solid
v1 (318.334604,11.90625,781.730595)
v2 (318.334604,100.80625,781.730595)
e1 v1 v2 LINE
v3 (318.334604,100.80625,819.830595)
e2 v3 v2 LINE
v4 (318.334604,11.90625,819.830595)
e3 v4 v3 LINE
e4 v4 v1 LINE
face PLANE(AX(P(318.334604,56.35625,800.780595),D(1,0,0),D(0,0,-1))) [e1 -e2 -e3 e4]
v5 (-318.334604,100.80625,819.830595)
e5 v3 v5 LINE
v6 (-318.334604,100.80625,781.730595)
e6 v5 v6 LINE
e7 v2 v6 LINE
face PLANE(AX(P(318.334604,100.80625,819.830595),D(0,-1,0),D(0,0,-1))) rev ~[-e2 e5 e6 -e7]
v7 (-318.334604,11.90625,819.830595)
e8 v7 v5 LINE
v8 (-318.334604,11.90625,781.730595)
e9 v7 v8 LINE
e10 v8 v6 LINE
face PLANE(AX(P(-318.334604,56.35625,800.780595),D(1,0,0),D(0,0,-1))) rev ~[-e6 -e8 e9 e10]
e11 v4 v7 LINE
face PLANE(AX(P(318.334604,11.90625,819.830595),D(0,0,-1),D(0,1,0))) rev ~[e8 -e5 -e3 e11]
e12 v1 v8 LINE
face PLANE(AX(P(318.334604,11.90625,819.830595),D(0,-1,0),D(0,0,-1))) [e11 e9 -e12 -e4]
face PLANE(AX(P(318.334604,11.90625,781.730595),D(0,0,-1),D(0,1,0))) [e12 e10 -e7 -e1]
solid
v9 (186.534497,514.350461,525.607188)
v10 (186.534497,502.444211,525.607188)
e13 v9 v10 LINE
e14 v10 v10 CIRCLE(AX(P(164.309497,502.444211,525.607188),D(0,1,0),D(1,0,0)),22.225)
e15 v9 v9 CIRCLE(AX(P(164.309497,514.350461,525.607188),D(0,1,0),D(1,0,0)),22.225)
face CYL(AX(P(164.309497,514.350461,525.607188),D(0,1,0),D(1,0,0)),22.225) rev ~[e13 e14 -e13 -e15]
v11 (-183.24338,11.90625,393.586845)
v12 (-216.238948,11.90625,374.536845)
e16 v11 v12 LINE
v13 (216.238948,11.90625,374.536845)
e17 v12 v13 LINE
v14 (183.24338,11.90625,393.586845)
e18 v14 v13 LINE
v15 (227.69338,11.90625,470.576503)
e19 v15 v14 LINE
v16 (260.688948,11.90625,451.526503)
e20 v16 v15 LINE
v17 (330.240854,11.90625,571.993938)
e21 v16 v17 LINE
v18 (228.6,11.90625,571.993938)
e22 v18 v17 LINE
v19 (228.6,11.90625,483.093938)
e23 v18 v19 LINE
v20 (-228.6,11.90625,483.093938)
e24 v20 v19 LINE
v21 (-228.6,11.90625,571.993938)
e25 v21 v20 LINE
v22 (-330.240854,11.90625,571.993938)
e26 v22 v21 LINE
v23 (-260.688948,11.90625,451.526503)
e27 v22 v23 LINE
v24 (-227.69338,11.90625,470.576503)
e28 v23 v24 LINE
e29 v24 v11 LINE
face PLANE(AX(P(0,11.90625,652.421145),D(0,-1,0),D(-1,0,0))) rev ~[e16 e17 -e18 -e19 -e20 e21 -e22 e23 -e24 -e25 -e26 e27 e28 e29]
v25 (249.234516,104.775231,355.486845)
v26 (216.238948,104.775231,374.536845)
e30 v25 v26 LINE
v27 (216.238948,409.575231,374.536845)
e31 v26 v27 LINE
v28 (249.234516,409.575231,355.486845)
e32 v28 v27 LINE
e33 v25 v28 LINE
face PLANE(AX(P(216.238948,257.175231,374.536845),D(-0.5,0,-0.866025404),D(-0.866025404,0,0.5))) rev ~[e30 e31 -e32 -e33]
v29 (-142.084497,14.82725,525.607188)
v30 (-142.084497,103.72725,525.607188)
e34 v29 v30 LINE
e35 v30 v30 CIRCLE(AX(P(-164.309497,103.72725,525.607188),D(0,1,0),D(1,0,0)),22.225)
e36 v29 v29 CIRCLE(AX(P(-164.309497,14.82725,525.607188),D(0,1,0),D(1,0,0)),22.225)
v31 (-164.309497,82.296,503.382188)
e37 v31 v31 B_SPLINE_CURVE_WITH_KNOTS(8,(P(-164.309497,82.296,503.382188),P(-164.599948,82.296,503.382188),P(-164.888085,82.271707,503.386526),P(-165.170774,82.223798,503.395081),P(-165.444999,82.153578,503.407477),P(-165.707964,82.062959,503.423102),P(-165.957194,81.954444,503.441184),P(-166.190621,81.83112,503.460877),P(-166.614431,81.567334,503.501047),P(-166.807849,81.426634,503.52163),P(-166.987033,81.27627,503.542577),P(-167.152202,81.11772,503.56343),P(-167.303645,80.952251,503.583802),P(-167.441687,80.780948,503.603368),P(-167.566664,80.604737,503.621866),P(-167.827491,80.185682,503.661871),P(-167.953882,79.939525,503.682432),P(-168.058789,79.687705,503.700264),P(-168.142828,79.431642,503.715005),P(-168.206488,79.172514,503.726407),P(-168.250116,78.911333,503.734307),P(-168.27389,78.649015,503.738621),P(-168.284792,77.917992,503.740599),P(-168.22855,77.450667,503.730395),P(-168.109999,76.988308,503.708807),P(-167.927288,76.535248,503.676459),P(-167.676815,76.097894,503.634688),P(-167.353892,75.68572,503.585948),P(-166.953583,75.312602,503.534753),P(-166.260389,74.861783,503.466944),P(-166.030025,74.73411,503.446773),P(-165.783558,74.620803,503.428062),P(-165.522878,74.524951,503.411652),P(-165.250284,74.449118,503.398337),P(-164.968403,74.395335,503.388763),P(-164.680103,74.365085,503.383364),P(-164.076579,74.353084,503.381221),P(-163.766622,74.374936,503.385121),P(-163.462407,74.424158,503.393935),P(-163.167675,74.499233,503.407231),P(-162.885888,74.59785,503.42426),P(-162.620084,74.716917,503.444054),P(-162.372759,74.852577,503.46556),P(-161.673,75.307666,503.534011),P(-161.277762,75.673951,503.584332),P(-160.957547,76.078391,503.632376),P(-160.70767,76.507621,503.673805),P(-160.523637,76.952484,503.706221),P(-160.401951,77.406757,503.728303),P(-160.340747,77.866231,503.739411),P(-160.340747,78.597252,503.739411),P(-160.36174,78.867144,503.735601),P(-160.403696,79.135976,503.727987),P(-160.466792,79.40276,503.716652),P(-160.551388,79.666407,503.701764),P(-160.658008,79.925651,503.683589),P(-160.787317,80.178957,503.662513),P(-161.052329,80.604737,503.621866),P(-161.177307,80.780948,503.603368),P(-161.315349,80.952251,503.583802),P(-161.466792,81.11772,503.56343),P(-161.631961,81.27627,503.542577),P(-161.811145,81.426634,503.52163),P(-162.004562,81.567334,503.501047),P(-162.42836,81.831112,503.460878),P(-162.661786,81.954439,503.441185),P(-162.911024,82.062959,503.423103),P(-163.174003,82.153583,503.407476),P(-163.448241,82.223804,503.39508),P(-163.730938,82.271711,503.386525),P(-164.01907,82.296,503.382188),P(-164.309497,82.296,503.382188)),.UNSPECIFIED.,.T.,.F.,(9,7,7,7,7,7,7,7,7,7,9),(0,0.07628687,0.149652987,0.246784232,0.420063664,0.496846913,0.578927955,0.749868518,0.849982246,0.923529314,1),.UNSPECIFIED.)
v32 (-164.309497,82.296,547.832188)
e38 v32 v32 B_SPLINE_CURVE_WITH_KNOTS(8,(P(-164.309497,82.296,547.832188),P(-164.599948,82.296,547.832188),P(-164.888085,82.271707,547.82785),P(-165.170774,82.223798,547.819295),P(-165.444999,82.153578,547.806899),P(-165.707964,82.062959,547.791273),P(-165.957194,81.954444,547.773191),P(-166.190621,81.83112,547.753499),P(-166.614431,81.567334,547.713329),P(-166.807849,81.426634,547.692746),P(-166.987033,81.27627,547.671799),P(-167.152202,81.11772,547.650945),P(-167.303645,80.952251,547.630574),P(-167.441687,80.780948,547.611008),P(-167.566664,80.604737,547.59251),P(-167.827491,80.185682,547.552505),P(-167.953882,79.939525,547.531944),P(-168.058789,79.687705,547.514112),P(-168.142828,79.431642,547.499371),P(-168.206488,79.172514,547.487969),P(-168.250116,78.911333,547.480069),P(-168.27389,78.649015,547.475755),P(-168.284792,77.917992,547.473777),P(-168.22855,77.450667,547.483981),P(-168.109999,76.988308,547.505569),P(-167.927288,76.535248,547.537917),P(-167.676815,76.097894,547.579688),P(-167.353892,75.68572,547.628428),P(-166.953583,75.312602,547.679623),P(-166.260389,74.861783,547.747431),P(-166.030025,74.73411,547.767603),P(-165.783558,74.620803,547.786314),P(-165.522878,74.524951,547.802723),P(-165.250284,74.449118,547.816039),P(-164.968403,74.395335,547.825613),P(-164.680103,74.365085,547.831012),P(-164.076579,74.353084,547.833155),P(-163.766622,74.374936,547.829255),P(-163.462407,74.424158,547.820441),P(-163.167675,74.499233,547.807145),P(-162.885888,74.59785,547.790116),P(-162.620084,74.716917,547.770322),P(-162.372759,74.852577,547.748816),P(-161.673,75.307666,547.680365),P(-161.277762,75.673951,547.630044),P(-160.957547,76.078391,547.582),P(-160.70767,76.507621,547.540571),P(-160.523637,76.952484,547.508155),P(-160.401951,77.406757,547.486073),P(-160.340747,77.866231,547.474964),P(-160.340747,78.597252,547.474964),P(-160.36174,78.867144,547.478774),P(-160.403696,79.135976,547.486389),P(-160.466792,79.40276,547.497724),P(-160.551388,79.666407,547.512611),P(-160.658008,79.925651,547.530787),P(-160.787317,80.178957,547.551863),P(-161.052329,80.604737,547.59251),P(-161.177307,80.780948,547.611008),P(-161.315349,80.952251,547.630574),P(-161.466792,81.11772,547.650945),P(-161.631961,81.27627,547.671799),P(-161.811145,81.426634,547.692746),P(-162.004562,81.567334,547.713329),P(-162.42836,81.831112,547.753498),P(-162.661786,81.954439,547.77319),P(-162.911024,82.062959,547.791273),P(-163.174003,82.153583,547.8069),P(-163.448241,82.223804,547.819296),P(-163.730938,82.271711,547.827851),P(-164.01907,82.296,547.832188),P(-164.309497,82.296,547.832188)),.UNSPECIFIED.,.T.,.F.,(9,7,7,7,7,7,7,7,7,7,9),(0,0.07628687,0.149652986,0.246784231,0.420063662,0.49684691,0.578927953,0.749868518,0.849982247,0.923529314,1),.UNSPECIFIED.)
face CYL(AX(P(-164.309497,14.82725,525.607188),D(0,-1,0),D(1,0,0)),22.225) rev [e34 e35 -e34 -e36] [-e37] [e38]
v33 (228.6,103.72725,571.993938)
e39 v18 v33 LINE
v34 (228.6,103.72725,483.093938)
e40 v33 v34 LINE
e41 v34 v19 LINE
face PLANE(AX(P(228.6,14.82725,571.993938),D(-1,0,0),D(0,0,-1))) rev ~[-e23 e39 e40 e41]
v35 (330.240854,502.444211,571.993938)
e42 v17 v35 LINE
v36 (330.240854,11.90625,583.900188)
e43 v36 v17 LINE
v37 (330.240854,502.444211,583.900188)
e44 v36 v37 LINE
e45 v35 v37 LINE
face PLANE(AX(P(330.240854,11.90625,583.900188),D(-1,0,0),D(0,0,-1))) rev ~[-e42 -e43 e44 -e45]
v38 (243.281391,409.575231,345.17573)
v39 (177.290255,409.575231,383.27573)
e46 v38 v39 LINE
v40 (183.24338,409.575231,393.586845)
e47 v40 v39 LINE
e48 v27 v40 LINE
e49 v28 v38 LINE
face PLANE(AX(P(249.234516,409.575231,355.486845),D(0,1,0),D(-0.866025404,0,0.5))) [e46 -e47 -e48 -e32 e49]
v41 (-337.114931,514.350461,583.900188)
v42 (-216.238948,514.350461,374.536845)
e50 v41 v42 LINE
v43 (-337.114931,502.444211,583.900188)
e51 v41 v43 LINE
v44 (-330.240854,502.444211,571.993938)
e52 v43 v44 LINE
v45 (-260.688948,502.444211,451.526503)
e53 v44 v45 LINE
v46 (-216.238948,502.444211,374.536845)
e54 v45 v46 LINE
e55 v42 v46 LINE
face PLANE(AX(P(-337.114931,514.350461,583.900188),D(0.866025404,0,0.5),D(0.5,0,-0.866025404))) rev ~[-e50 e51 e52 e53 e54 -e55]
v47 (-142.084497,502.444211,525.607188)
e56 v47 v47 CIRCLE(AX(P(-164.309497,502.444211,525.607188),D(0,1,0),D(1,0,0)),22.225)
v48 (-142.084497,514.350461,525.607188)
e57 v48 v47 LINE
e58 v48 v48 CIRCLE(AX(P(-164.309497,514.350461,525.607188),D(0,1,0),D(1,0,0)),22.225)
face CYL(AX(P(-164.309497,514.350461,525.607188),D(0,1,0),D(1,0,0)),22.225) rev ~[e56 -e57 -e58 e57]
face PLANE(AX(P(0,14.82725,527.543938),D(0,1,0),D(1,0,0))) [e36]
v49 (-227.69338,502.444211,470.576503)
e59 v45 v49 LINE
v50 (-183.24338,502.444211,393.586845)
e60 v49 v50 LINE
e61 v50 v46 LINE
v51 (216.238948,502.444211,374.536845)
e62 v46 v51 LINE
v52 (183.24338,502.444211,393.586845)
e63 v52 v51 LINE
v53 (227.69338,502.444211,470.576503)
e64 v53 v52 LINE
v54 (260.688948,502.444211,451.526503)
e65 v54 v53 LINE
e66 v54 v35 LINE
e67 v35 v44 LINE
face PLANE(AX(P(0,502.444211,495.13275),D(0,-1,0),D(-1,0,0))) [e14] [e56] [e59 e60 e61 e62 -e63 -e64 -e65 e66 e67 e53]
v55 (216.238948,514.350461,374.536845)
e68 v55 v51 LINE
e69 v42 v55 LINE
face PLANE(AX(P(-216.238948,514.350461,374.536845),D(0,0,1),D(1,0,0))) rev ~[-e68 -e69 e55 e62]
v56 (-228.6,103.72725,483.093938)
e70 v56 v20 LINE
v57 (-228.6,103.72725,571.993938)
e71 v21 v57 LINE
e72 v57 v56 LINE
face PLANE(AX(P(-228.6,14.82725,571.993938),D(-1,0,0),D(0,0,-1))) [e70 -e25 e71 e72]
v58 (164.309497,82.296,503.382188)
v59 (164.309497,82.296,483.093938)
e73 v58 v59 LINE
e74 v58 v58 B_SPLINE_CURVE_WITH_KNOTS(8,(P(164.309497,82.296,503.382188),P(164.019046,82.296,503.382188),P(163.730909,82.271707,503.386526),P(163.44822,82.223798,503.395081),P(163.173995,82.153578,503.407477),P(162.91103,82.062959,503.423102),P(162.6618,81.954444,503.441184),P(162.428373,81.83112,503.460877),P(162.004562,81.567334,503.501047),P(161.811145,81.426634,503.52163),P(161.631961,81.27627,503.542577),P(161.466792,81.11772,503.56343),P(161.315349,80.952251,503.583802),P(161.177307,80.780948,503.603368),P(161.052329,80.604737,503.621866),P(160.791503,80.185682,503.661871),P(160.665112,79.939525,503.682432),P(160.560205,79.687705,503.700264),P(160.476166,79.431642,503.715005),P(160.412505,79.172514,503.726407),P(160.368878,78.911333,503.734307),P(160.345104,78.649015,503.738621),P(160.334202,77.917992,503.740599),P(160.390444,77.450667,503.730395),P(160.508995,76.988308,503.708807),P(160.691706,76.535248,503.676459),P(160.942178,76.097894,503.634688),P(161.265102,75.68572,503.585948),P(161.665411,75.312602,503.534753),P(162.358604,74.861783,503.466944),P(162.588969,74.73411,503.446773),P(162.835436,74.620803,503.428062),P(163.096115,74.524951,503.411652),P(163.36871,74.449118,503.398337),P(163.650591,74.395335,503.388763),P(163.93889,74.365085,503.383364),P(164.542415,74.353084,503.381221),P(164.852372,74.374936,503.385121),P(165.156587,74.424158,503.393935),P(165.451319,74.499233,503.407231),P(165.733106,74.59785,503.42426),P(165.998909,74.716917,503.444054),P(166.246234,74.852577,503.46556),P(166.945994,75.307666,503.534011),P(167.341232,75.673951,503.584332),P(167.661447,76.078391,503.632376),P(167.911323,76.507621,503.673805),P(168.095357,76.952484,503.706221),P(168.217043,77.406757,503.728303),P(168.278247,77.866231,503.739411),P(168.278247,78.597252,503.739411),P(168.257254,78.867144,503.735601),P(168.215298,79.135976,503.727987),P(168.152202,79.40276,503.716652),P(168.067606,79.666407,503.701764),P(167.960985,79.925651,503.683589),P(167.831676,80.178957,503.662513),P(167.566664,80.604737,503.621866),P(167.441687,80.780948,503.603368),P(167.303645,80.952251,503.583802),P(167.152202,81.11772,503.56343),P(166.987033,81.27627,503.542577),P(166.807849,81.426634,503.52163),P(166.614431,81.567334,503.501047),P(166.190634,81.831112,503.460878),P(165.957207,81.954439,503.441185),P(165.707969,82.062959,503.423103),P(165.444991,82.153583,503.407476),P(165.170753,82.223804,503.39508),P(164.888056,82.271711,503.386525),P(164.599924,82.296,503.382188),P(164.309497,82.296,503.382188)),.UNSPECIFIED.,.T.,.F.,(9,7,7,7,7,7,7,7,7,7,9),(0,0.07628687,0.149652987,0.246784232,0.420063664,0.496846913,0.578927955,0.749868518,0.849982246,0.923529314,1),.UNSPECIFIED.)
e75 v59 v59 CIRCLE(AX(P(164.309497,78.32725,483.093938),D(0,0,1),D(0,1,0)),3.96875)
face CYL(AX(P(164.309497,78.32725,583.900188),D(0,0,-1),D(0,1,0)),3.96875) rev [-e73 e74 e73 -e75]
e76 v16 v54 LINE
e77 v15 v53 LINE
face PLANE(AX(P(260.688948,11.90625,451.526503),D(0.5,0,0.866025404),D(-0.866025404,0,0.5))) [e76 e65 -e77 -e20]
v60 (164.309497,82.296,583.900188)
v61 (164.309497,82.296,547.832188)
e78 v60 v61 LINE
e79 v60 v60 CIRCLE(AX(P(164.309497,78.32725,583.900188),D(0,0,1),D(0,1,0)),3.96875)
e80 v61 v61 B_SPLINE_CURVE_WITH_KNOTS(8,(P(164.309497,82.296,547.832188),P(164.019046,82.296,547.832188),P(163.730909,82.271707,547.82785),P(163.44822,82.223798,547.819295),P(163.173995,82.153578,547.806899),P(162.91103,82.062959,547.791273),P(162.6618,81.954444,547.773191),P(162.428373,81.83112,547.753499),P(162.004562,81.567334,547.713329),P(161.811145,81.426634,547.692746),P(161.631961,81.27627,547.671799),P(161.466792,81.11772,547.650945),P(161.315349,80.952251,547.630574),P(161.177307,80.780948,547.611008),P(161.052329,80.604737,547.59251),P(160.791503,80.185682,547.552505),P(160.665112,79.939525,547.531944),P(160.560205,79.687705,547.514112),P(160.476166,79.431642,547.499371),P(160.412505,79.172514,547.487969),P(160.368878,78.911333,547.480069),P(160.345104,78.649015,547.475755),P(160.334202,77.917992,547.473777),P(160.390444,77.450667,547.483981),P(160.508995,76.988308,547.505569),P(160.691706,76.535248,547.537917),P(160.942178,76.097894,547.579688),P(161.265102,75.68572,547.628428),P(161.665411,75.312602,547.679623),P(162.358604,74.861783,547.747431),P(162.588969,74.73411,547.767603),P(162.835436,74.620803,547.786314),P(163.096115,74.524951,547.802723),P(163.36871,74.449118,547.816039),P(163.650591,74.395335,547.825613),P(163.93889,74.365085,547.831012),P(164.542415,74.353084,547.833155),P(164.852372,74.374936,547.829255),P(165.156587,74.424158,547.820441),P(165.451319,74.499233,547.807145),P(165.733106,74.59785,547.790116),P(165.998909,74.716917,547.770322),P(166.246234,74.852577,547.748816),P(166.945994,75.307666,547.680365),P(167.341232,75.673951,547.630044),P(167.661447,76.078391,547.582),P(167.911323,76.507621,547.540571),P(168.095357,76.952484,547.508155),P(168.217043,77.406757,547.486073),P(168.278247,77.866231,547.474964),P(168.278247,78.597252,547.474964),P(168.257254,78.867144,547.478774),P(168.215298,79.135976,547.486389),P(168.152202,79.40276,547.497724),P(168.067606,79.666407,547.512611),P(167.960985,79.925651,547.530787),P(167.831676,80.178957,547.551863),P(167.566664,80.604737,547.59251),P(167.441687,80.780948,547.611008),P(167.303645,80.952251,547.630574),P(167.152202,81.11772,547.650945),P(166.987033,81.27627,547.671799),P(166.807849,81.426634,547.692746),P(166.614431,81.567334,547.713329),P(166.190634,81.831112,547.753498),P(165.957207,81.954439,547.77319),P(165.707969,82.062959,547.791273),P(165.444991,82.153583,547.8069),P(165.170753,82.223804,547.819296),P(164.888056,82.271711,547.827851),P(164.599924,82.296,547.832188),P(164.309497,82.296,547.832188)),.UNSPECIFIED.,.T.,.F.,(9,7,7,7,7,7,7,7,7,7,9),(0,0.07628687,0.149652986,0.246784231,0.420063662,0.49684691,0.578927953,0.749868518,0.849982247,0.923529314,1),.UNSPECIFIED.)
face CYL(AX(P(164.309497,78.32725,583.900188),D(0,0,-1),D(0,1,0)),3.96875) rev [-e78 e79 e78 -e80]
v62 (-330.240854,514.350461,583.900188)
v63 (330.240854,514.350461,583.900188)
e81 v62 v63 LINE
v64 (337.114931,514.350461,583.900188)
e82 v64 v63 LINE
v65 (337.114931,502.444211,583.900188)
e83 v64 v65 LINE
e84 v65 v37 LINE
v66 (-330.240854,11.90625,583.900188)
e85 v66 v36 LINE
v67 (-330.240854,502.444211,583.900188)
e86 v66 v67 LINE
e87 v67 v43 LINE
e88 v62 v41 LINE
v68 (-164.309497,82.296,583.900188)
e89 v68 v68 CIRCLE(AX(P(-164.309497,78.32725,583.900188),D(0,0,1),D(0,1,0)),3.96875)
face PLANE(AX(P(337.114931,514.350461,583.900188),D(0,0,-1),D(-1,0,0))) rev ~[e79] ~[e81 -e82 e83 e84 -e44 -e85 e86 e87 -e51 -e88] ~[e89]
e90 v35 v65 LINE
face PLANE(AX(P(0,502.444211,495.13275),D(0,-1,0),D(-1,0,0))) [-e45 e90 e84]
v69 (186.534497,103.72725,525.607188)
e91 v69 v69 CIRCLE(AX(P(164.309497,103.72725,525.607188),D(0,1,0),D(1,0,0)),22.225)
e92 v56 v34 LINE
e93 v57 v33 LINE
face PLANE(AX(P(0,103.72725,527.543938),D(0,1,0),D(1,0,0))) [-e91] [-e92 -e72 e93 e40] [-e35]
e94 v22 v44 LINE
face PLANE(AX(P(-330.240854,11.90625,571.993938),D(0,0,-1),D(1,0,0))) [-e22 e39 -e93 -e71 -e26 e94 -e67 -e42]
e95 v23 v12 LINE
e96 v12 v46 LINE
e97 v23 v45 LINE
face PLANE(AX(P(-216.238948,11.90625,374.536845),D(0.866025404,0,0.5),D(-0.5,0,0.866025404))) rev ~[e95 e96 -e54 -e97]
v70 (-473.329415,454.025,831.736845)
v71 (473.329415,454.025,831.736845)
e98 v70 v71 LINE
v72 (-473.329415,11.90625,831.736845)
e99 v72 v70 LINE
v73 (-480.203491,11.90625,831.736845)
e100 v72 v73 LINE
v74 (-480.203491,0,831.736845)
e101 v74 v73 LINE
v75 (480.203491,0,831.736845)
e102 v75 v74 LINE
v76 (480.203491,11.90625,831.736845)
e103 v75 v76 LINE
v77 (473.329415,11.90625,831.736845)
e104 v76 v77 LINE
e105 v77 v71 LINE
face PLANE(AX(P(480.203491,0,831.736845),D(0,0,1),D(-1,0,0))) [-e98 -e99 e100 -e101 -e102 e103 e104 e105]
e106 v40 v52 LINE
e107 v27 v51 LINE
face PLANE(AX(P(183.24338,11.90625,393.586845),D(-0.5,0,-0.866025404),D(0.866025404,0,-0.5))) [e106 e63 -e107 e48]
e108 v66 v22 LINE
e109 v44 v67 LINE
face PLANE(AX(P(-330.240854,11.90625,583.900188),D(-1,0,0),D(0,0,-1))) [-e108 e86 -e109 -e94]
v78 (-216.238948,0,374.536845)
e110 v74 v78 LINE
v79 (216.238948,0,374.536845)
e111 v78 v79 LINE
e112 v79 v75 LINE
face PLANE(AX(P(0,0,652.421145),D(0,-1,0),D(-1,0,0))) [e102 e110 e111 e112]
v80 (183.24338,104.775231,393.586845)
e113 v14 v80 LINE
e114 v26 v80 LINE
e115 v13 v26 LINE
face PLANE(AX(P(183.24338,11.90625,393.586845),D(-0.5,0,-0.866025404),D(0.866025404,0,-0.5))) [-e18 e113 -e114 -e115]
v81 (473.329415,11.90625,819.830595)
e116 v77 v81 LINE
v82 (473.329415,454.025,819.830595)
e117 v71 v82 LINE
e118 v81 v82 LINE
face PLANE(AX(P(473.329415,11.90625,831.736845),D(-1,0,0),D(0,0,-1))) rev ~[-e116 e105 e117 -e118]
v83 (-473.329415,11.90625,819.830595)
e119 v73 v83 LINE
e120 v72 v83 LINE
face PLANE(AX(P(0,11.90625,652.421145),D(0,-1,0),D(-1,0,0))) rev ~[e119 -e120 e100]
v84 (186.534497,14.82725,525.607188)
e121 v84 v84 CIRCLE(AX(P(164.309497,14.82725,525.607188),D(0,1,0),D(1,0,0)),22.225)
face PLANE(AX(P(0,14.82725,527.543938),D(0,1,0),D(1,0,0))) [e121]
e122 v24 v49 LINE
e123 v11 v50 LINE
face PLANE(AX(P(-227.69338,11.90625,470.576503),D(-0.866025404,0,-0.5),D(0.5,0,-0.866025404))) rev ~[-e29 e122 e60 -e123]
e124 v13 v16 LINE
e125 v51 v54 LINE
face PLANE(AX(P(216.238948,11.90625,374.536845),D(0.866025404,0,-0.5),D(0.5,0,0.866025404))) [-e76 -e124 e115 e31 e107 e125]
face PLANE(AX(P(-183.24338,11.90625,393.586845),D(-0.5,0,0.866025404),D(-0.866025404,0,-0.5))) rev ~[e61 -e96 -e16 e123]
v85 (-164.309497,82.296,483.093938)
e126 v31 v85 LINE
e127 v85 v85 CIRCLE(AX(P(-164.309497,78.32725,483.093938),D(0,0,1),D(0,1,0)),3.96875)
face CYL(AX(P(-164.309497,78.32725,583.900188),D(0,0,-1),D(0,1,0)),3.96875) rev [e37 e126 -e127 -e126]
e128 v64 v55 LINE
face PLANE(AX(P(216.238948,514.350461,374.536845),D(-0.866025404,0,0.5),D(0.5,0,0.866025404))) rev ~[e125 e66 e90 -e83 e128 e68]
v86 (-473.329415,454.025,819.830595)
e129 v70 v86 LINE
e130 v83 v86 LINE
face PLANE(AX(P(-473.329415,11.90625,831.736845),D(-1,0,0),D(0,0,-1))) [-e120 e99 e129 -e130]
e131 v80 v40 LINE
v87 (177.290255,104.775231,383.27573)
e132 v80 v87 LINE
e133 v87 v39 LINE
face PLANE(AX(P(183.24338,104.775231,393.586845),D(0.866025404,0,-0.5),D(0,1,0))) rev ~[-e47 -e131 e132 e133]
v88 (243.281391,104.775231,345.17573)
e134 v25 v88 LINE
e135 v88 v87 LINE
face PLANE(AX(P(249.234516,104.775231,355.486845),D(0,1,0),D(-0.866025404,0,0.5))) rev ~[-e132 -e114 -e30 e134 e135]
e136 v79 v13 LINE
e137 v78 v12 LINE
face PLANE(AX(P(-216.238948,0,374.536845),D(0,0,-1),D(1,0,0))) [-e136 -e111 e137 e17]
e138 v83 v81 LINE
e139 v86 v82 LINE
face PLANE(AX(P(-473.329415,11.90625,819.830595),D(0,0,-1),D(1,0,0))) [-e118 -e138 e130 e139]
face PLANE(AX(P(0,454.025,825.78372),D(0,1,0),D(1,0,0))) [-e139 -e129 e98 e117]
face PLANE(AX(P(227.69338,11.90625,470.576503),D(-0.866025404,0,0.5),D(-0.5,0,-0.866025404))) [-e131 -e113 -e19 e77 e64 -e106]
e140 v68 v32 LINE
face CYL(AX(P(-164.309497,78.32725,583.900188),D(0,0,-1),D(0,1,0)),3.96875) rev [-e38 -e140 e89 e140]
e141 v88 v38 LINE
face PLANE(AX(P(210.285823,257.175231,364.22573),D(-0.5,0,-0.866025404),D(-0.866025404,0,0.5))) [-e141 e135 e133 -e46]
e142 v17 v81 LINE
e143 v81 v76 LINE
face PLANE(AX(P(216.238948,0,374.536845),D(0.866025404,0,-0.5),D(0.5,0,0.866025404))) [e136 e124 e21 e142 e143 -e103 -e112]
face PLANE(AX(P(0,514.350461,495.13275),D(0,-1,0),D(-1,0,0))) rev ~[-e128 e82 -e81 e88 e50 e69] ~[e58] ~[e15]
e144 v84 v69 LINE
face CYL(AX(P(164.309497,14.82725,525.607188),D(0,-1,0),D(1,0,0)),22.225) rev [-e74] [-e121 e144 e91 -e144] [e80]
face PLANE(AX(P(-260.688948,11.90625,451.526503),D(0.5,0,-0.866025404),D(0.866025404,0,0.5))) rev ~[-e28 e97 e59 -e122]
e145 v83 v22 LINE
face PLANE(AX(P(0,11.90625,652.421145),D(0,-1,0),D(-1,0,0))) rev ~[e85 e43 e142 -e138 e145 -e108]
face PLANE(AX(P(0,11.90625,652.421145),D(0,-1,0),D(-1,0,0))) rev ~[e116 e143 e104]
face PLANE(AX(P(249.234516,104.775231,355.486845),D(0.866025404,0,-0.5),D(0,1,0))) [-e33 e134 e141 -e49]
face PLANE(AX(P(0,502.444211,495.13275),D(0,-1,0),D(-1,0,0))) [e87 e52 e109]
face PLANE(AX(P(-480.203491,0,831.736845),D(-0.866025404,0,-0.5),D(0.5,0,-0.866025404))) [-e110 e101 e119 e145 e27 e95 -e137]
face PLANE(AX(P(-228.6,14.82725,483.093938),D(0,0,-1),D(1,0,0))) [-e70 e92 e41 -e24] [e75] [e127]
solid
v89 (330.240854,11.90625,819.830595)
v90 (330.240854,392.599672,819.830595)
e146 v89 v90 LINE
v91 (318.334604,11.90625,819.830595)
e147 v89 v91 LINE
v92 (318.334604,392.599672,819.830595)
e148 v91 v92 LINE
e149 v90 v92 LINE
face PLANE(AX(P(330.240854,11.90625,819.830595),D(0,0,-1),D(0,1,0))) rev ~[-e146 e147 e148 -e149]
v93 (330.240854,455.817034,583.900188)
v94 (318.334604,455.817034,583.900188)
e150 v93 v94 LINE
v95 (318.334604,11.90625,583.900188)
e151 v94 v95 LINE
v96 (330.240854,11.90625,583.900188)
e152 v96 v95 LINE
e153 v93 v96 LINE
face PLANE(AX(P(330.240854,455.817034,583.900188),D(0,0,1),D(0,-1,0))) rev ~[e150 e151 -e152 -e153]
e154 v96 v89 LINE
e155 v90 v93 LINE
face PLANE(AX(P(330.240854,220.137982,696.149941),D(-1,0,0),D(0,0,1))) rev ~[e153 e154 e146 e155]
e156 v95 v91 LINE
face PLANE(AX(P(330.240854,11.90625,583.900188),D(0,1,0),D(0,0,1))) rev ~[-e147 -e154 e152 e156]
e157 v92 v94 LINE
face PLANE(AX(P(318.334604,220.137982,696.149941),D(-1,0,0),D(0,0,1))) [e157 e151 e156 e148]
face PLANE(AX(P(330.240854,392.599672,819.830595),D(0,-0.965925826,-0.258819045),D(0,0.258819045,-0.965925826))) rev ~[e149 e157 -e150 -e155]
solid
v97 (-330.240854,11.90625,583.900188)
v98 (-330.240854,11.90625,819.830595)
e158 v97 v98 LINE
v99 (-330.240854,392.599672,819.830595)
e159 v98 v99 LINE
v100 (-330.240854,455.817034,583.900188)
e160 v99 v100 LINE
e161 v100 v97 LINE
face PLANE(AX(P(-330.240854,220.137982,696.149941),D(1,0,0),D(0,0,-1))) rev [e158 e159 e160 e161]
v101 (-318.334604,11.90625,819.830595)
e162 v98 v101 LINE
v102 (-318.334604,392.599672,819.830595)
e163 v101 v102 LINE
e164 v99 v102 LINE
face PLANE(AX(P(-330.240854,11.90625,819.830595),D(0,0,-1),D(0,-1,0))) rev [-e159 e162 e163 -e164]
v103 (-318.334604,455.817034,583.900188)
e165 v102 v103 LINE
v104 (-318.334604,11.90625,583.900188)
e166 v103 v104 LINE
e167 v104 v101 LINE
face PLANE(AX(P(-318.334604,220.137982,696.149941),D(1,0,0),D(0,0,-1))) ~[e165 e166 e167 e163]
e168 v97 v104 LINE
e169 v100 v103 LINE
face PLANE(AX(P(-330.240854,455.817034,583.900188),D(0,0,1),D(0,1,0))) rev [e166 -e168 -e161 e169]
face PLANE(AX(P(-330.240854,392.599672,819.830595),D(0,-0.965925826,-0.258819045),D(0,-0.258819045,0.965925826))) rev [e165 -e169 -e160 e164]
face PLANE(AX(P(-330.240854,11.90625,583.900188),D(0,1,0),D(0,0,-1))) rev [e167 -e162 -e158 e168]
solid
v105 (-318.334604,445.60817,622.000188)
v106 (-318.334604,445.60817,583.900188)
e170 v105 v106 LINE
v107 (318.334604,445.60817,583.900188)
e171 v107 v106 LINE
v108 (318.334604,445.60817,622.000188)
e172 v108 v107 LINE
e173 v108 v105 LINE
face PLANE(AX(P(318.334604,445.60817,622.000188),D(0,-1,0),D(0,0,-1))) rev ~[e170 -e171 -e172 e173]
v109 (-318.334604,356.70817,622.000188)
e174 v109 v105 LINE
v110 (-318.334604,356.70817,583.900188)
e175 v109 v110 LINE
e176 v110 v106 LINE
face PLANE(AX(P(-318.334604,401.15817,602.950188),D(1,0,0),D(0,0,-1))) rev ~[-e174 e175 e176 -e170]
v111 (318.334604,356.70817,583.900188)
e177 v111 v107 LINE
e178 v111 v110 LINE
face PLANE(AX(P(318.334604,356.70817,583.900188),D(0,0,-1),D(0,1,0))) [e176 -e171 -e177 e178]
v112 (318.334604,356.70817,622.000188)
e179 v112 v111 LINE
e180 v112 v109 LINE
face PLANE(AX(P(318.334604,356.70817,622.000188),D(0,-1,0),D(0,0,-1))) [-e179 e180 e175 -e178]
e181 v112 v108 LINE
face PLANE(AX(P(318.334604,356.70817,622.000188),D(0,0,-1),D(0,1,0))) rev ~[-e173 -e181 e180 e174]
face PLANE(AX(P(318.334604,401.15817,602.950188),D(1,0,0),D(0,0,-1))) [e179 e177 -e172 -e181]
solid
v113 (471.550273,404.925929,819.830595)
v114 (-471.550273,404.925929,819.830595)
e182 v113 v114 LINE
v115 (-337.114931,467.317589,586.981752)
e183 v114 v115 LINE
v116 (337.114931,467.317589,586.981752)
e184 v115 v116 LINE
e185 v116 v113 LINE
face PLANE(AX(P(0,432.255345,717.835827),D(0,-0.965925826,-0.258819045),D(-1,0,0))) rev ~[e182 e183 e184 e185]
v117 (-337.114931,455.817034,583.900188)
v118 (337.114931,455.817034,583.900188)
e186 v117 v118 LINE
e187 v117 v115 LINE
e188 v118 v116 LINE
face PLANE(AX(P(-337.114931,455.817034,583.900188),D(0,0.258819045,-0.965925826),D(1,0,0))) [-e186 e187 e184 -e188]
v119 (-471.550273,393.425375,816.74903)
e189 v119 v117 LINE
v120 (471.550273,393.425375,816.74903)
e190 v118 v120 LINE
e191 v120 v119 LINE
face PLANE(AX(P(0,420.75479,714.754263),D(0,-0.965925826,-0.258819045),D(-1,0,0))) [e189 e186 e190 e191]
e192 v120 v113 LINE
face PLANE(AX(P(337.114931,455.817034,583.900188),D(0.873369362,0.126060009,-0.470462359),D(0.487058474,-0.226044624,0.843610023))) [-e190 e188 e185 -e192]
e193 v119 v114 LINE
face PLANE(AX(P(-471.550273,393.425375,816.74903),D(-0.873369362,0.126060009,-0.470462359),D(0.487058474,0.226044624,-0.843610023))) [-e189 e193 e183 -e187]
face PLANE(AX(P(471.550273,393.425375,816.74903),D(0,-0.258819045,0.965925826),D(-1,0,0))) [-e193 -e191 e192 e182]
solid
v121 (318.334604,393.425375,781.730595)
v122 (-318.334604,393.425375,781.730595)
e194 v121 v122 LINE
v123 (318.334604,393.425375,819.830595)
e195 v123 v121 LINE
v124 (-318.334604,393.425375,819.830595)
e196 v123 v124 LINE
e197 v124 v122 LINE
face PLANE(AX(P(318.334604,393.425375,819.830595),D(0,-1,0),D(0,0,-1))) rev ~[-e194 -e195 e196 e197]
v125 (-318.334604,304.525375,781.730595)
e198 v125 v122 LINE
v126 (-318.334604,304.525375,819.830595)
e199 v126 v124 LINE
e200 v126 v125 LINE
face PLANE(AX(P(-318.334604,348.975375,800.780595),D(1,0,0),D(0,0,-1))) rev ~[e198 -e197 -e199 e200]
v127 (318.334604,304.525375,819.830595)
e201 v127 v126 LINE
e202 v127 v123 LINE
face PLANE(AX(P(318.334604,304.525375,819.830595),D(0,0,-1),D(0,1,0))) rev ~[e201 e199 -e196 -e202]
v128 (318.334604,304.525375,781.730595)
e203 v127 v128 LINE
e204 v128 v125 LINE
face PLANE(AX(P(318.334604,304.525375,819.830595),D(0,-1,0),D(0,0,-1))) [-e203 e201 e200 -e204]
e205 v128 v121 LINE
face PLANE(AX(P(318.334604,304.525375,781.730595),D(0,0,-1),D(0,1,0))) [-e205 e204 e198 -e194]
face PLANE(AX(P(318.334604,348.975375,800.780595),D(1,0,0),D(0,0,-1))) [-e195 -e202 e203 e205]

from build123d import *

# Parameters (mm, degrees)
BOSS_EXTRUDE1_DEPTH                     = 11.90625
SKETCH3_W                               = 946.658829024
SKETCH3_H                               = 11.90625
BOSS_EXTRUDE2_DEPTH                     = 442.11875
SKETCH4_W                               = 660.481708072
SKETCH4_H                               = 11.90625
BOSS_EXTRUDE3_DEPTH                     = 502.444211
BOSS_EXTRUDE4_DEPTH                     = 11.90625
CUT_EXTRUDE2_REACH                      = 516.35
SKETCH6_R                               = 22.225
BOSS_EXTRUDE5_DEPTH                     = 11.90625
BOSS_EXTRUDE8_DEPTH                     = 11.90625
SKETCH9_W                               = 457.2
SKETCH9_H                               = 88.9
BOSS_EXTRUDE9_DEPTH                     = 2.921
SKETCH10_W                              = 457.2
SKETCH10_H                              = 88.9
SKETCH10_R                              = 22.225
BOSS_EXTRUDE10_DEPTH                    = 88.9
F_5_16_0_3125_DIAMETER_HOLE1_AT_2_COUNT = 2
F_5_16_0_3125_DIAMETER_HOLE1_AT_2_PITCH = 328.618993764
BOSS_EXTRUDE11_DEPTH                    = 490.537961
SKETCH12_W                              = 76.2
SKETCH12_H                              = 304.8
BOSS_EXTRUDE12_DEPTH                    = 11.90625
SKETCH18_W                              = 38.1
SKETCH18_H                              = 88.9
BOSS_EXTRUDE15_DEPTH                    = 636.669208
BOSS_EXTRUDE15_2_DEPTH                  = 636.669208
BOSS_EXTRUDE15_3_DEPTH                  = 636.669208


with BuildPart() as part:
    # Sketch2 → Boss-Extrude1 (new body)
    with BuildSketch(Plane(origin=(0, 0, 0), x_dir=(1, 0, 0), z_dir=(0, 1, 0))):
        Polygon((-480.203491154, -831.736844651), (-216.238948081, -374.536844651), (216.238948081, -374.536844651), (480.203491154, -831.736844651), align=None)
    extrude(amount=BOSS_EXTRUDE1_DEPTH)

    # Sketch3 → Boss-Extrude2 (add)
    with BuildSketch(Plane(origin=(0, 11.90625, 0), x_dir=(1, 0, 0), z_dir=(0, 1, 0))):
        with Locations((0, -825.783719651)):
            Rectangle(SKETCH3_W, SKETCH3_H)
    extrude(amount=BOSS_EXTRUDE2_DEPTH)

    # Sketch4 → Boss-Extrude3 (add)
    with BuildSketch(Plane(origin=(0, 11.90625, 0), x_dir=(1, 0, 0), z_dir=(0, 1, 0))):
        with Locations((0, -577.947062925)):
            Rectangle(SKETCH4_W, SKETCH4_H)
    extrude(amount=BOSS_EXTRUDE3_DEPTH)

    # Sketch5 → Boss-Extrude4 (add)
    with BuildSketch(Plane(origin=(0, 514.35046101, 0), x_dir=(1, 0, 0), z_dir=(0, 1, 0))):
        Polygon((-337.114930678, -583.900187925), (-216.238948081, -374.536844651), (216.238948081, -374.536844651), (337.114930678, -583.900187925), align=None)
    extrude(amount=-BOSS_EXTRUDE4_DEPTH)

    # Sketch6 → Cut-Extrude2 (cut, up to next)
    with BuildSketch(Plane(origin=(0, 514.35046101, 0), x_dir=(1, 0, 0), z_dir=(0, 1, 0)), mode=Mode.PRIVATE) as cut_extrude2_sk1:
        with Locations((-164.309496882, -525.607187925)):
            Circle(SKETCH6_R)
    cut_extrude2_tool1 = extrude(cut_extrude2_sk1.sketch, amount=-CUT_EXTRUDE2_REACH, mode=Mode.PRIVATE) & part.part
    add(cut_extrude2_tool1.solids().sort_by_distance((-164.309497, 514.350461, 525.607188))[0], mode=Mode.SUBTRACT)
    # Sketch6 → Cut-Extrude2 (cut, up to next)
    with BuildSketch(Plane(origin=(0, 514.35046101, 0), x_dir=(1, 0, 0), z_dir=(0, 1, 0)), mode=Mode.PRIVATE) as cut_extrude2_sk2:
        with Locations((164.309496882, -525.607187925)):
            Circle(SKETCH6_R)
    cut_extrude2_tool2 = extrude(cut_extrude2_sk2.sketch, amount=-CUT_EXTRUDE2_REACH, mode=Mode.PRIVATE) & part.part
    add(cut_extrude2_tool2.solids().sort_by_distance((164.309497, 514.350461, 525.607188))[0], mode=Mode.SUBTRACT)

    # Sketch9 → Boss-Extrude9 (add)
    with BuildSketch(Plane(origin=(0, 11.90625, 0), x_dir=(1, 0, 0), z_dir=(0, 1, 0))):
        with Locations((0, -527.543937925)):
            Rectangle(SKETCH9_W, SKETCH9_H)
    extrude(amount=BOSS_EXTRUDE9_DEPTH)

    # Sketch10 → Boss-Extrude10 (add)
    with BuildSketch(Plane(origin=(0, 14.82725, 0), x_dir=(1, 0, 0), z_dir=(0, 1, 0))):
        with Locations((0, -527.543937925)):
            Rectangle(SKETCH10_W, SKETCH10_H)
        with Locations((-164.309496882, -525.607187925)):
            Circle(SKETCH10_R, mode=Mode.SUBTRACT)
        with Locations((164.309496882, -525.607187925)):
            Circle(SKETCH10_R, mode=Mode.SUBTRACT)
    extrude(amount=BOSS_EXTRUDE10_DEPTH)

    # Sketch15 → 5/16 (0.3125) Diameter Hole1 (revolve, cut)
    with BuildSketch(Plane(origin=(164.309496882, 78.32725, 483.093937925), x_dir=(0, 1, 0), z_dir=(1, 0, 0))):
        Polygon((0, 0), (0, 103.190915582), (3.96875, 100.80625), (3.96875, 0), align=None)
    f_5_16_0_3125_diameter_hole1 = revolve(axis=Axis((164.309496882, 78.32725, 476.743937925), (0, 0, 1)), mode=Mode.SUBTRACT)

    # 5/16 (0.3125) Diameter Hole1 at 2: 5/16 (0.3125) Diameter Hole1 ×2
    with Locations(*[(-i * F_5_16_0_3125_DIAMETER_HOLE1_AT_2_PITCH, 0, 0) for i in range(1, F_5_16_0_3125_DIAMETER_HOLE1_AT_2_COUNT)]):
        add(f_5_16_0_3125_diameter_hole1, mode=Mode.SUBTRACT)

    # Sketch11 → Boss-Extrude11 (add)
    with BuildSketch(Plane(origin=(0, 11.90625, 0), x_dir=(1, 0, 0), z_dir=(0, 1, 0))):
        Polygon((216.238948081, -374.536844651), (260.688948081, -451.526503047), (227.693380197, -470.576503047), (183.243380197, -393.586844651), align=None)
        Polygon((-216.238948081, -374.536844651), (-260.688948081, -451.526503047), (-227.693380196, -470.576503047), (-183.243380196, -393.586844651), align=None)
    extrude(amount=BOSS_EXTRUDE11_DEPTH)

    # Sketch12 → Boss-Extrude12 (add)
    with BuildSketch(Plane(origin=(216.238948081, 0, 374.536844651), x_dir=(-0.866025404, 0, 0.5), z_dir=(-0.5, 0, -0.866025404))):
        with Locations((0, 257.175230505)):
            Rectangle(SKETCH12_W, SKETCH12_H)
    extrude(amount=BOSS_EXTRUDE12_DEPTH)


with BuildPart() as body_2:
    # Sketch7 → Boss-Extrude5 (new body)
    with BuildSketch(Plane(origin=(0, 571.258129571, 153.068154488), x_dir=(1, 0, 0), z_dir=(0, 0.965925826, 0.258819045))):
        Polygon((-471.550272559, -687.09300222), (-337.114930678, -446.030141975), (337.114930678, -446.030141975), (471.550272559, -687.09300222), align=None)
    extrude(amount=BOSS_EXTRUDE5_DEPTH)


with BuildPart() as body_3:
    # Sketch8 → Boss-Extrude8 (new body)
    with BuildSketch(Plane(origin=(330.240854036, 0, 0), x_dir=(0, 0, -1), z_dir=(1, 0, 0))):
        Polygon((-819.830594651, 11.90625), (-819.830594651, 392.599672186), (-583.900187925, 455.817034138), (-583.900187925, 11.90625), align=None)
    extrude(amount=-BOSS_EXTRUDE8_DEPTH)


with BuildPart() as body_4:
    # Mirror2: mirrored copy
    add(body_3.part.mirror(Plane(origin=(0, 0, 0), x_dir=(0, 0, 1), z_dir=(1, 0, 0))))


with BuildPart() as body_5:
    # Sketch18 → Boss-Extrude15 (new body)
    with BuildSketch(Plane(origin=(318.334604036, 0, 0), x_dir=(0, 0, -1), z_dir=(1, 0, 0))):
        with Locations((-602.950187925, 401.158169907)):
            Rectangle(SKETCH18_W, SKETCH18_H)
    extrude(amount=-BOSS_EXTRUDE15_DEPTH)


with BuildPart() as body_6:
    # Sketch18 → Boss-Extrude15 2 (new body)
    with BuildSketch(Plane(origin=(318.334604036, 0, 0), x_dir=(0, 0, -1), z_dir=(1, 0, 0))):
        with Locations((-800.780594651, 348.97537484)):
            Rectangle(SKETCH18_W, SKETCH18_H)
    extrude(amount=-BOSS_EXTRUDE15_2_DEPTH)


with BuildPart() as body_7:
    # Sketch18 → Boss-Extrude15 3 (new body)
    with BuildSketch(Plane(origin=(318.334604036, 0, 0), x_dir=(0, 0, -1), z_dir=(1, 0, 0))):
        with Locations((-800.780594651, 56.35625)):
            Rectangle(SKETCH18_W, SKETCH18_H)
    extrude(amount=-BOSS_EXTRUDE15_3_DEPTH)


solid = Compound([part.part, body_2.part, body_3.part, body_4.part, body_5.part, body_6.part, body_7.part])
